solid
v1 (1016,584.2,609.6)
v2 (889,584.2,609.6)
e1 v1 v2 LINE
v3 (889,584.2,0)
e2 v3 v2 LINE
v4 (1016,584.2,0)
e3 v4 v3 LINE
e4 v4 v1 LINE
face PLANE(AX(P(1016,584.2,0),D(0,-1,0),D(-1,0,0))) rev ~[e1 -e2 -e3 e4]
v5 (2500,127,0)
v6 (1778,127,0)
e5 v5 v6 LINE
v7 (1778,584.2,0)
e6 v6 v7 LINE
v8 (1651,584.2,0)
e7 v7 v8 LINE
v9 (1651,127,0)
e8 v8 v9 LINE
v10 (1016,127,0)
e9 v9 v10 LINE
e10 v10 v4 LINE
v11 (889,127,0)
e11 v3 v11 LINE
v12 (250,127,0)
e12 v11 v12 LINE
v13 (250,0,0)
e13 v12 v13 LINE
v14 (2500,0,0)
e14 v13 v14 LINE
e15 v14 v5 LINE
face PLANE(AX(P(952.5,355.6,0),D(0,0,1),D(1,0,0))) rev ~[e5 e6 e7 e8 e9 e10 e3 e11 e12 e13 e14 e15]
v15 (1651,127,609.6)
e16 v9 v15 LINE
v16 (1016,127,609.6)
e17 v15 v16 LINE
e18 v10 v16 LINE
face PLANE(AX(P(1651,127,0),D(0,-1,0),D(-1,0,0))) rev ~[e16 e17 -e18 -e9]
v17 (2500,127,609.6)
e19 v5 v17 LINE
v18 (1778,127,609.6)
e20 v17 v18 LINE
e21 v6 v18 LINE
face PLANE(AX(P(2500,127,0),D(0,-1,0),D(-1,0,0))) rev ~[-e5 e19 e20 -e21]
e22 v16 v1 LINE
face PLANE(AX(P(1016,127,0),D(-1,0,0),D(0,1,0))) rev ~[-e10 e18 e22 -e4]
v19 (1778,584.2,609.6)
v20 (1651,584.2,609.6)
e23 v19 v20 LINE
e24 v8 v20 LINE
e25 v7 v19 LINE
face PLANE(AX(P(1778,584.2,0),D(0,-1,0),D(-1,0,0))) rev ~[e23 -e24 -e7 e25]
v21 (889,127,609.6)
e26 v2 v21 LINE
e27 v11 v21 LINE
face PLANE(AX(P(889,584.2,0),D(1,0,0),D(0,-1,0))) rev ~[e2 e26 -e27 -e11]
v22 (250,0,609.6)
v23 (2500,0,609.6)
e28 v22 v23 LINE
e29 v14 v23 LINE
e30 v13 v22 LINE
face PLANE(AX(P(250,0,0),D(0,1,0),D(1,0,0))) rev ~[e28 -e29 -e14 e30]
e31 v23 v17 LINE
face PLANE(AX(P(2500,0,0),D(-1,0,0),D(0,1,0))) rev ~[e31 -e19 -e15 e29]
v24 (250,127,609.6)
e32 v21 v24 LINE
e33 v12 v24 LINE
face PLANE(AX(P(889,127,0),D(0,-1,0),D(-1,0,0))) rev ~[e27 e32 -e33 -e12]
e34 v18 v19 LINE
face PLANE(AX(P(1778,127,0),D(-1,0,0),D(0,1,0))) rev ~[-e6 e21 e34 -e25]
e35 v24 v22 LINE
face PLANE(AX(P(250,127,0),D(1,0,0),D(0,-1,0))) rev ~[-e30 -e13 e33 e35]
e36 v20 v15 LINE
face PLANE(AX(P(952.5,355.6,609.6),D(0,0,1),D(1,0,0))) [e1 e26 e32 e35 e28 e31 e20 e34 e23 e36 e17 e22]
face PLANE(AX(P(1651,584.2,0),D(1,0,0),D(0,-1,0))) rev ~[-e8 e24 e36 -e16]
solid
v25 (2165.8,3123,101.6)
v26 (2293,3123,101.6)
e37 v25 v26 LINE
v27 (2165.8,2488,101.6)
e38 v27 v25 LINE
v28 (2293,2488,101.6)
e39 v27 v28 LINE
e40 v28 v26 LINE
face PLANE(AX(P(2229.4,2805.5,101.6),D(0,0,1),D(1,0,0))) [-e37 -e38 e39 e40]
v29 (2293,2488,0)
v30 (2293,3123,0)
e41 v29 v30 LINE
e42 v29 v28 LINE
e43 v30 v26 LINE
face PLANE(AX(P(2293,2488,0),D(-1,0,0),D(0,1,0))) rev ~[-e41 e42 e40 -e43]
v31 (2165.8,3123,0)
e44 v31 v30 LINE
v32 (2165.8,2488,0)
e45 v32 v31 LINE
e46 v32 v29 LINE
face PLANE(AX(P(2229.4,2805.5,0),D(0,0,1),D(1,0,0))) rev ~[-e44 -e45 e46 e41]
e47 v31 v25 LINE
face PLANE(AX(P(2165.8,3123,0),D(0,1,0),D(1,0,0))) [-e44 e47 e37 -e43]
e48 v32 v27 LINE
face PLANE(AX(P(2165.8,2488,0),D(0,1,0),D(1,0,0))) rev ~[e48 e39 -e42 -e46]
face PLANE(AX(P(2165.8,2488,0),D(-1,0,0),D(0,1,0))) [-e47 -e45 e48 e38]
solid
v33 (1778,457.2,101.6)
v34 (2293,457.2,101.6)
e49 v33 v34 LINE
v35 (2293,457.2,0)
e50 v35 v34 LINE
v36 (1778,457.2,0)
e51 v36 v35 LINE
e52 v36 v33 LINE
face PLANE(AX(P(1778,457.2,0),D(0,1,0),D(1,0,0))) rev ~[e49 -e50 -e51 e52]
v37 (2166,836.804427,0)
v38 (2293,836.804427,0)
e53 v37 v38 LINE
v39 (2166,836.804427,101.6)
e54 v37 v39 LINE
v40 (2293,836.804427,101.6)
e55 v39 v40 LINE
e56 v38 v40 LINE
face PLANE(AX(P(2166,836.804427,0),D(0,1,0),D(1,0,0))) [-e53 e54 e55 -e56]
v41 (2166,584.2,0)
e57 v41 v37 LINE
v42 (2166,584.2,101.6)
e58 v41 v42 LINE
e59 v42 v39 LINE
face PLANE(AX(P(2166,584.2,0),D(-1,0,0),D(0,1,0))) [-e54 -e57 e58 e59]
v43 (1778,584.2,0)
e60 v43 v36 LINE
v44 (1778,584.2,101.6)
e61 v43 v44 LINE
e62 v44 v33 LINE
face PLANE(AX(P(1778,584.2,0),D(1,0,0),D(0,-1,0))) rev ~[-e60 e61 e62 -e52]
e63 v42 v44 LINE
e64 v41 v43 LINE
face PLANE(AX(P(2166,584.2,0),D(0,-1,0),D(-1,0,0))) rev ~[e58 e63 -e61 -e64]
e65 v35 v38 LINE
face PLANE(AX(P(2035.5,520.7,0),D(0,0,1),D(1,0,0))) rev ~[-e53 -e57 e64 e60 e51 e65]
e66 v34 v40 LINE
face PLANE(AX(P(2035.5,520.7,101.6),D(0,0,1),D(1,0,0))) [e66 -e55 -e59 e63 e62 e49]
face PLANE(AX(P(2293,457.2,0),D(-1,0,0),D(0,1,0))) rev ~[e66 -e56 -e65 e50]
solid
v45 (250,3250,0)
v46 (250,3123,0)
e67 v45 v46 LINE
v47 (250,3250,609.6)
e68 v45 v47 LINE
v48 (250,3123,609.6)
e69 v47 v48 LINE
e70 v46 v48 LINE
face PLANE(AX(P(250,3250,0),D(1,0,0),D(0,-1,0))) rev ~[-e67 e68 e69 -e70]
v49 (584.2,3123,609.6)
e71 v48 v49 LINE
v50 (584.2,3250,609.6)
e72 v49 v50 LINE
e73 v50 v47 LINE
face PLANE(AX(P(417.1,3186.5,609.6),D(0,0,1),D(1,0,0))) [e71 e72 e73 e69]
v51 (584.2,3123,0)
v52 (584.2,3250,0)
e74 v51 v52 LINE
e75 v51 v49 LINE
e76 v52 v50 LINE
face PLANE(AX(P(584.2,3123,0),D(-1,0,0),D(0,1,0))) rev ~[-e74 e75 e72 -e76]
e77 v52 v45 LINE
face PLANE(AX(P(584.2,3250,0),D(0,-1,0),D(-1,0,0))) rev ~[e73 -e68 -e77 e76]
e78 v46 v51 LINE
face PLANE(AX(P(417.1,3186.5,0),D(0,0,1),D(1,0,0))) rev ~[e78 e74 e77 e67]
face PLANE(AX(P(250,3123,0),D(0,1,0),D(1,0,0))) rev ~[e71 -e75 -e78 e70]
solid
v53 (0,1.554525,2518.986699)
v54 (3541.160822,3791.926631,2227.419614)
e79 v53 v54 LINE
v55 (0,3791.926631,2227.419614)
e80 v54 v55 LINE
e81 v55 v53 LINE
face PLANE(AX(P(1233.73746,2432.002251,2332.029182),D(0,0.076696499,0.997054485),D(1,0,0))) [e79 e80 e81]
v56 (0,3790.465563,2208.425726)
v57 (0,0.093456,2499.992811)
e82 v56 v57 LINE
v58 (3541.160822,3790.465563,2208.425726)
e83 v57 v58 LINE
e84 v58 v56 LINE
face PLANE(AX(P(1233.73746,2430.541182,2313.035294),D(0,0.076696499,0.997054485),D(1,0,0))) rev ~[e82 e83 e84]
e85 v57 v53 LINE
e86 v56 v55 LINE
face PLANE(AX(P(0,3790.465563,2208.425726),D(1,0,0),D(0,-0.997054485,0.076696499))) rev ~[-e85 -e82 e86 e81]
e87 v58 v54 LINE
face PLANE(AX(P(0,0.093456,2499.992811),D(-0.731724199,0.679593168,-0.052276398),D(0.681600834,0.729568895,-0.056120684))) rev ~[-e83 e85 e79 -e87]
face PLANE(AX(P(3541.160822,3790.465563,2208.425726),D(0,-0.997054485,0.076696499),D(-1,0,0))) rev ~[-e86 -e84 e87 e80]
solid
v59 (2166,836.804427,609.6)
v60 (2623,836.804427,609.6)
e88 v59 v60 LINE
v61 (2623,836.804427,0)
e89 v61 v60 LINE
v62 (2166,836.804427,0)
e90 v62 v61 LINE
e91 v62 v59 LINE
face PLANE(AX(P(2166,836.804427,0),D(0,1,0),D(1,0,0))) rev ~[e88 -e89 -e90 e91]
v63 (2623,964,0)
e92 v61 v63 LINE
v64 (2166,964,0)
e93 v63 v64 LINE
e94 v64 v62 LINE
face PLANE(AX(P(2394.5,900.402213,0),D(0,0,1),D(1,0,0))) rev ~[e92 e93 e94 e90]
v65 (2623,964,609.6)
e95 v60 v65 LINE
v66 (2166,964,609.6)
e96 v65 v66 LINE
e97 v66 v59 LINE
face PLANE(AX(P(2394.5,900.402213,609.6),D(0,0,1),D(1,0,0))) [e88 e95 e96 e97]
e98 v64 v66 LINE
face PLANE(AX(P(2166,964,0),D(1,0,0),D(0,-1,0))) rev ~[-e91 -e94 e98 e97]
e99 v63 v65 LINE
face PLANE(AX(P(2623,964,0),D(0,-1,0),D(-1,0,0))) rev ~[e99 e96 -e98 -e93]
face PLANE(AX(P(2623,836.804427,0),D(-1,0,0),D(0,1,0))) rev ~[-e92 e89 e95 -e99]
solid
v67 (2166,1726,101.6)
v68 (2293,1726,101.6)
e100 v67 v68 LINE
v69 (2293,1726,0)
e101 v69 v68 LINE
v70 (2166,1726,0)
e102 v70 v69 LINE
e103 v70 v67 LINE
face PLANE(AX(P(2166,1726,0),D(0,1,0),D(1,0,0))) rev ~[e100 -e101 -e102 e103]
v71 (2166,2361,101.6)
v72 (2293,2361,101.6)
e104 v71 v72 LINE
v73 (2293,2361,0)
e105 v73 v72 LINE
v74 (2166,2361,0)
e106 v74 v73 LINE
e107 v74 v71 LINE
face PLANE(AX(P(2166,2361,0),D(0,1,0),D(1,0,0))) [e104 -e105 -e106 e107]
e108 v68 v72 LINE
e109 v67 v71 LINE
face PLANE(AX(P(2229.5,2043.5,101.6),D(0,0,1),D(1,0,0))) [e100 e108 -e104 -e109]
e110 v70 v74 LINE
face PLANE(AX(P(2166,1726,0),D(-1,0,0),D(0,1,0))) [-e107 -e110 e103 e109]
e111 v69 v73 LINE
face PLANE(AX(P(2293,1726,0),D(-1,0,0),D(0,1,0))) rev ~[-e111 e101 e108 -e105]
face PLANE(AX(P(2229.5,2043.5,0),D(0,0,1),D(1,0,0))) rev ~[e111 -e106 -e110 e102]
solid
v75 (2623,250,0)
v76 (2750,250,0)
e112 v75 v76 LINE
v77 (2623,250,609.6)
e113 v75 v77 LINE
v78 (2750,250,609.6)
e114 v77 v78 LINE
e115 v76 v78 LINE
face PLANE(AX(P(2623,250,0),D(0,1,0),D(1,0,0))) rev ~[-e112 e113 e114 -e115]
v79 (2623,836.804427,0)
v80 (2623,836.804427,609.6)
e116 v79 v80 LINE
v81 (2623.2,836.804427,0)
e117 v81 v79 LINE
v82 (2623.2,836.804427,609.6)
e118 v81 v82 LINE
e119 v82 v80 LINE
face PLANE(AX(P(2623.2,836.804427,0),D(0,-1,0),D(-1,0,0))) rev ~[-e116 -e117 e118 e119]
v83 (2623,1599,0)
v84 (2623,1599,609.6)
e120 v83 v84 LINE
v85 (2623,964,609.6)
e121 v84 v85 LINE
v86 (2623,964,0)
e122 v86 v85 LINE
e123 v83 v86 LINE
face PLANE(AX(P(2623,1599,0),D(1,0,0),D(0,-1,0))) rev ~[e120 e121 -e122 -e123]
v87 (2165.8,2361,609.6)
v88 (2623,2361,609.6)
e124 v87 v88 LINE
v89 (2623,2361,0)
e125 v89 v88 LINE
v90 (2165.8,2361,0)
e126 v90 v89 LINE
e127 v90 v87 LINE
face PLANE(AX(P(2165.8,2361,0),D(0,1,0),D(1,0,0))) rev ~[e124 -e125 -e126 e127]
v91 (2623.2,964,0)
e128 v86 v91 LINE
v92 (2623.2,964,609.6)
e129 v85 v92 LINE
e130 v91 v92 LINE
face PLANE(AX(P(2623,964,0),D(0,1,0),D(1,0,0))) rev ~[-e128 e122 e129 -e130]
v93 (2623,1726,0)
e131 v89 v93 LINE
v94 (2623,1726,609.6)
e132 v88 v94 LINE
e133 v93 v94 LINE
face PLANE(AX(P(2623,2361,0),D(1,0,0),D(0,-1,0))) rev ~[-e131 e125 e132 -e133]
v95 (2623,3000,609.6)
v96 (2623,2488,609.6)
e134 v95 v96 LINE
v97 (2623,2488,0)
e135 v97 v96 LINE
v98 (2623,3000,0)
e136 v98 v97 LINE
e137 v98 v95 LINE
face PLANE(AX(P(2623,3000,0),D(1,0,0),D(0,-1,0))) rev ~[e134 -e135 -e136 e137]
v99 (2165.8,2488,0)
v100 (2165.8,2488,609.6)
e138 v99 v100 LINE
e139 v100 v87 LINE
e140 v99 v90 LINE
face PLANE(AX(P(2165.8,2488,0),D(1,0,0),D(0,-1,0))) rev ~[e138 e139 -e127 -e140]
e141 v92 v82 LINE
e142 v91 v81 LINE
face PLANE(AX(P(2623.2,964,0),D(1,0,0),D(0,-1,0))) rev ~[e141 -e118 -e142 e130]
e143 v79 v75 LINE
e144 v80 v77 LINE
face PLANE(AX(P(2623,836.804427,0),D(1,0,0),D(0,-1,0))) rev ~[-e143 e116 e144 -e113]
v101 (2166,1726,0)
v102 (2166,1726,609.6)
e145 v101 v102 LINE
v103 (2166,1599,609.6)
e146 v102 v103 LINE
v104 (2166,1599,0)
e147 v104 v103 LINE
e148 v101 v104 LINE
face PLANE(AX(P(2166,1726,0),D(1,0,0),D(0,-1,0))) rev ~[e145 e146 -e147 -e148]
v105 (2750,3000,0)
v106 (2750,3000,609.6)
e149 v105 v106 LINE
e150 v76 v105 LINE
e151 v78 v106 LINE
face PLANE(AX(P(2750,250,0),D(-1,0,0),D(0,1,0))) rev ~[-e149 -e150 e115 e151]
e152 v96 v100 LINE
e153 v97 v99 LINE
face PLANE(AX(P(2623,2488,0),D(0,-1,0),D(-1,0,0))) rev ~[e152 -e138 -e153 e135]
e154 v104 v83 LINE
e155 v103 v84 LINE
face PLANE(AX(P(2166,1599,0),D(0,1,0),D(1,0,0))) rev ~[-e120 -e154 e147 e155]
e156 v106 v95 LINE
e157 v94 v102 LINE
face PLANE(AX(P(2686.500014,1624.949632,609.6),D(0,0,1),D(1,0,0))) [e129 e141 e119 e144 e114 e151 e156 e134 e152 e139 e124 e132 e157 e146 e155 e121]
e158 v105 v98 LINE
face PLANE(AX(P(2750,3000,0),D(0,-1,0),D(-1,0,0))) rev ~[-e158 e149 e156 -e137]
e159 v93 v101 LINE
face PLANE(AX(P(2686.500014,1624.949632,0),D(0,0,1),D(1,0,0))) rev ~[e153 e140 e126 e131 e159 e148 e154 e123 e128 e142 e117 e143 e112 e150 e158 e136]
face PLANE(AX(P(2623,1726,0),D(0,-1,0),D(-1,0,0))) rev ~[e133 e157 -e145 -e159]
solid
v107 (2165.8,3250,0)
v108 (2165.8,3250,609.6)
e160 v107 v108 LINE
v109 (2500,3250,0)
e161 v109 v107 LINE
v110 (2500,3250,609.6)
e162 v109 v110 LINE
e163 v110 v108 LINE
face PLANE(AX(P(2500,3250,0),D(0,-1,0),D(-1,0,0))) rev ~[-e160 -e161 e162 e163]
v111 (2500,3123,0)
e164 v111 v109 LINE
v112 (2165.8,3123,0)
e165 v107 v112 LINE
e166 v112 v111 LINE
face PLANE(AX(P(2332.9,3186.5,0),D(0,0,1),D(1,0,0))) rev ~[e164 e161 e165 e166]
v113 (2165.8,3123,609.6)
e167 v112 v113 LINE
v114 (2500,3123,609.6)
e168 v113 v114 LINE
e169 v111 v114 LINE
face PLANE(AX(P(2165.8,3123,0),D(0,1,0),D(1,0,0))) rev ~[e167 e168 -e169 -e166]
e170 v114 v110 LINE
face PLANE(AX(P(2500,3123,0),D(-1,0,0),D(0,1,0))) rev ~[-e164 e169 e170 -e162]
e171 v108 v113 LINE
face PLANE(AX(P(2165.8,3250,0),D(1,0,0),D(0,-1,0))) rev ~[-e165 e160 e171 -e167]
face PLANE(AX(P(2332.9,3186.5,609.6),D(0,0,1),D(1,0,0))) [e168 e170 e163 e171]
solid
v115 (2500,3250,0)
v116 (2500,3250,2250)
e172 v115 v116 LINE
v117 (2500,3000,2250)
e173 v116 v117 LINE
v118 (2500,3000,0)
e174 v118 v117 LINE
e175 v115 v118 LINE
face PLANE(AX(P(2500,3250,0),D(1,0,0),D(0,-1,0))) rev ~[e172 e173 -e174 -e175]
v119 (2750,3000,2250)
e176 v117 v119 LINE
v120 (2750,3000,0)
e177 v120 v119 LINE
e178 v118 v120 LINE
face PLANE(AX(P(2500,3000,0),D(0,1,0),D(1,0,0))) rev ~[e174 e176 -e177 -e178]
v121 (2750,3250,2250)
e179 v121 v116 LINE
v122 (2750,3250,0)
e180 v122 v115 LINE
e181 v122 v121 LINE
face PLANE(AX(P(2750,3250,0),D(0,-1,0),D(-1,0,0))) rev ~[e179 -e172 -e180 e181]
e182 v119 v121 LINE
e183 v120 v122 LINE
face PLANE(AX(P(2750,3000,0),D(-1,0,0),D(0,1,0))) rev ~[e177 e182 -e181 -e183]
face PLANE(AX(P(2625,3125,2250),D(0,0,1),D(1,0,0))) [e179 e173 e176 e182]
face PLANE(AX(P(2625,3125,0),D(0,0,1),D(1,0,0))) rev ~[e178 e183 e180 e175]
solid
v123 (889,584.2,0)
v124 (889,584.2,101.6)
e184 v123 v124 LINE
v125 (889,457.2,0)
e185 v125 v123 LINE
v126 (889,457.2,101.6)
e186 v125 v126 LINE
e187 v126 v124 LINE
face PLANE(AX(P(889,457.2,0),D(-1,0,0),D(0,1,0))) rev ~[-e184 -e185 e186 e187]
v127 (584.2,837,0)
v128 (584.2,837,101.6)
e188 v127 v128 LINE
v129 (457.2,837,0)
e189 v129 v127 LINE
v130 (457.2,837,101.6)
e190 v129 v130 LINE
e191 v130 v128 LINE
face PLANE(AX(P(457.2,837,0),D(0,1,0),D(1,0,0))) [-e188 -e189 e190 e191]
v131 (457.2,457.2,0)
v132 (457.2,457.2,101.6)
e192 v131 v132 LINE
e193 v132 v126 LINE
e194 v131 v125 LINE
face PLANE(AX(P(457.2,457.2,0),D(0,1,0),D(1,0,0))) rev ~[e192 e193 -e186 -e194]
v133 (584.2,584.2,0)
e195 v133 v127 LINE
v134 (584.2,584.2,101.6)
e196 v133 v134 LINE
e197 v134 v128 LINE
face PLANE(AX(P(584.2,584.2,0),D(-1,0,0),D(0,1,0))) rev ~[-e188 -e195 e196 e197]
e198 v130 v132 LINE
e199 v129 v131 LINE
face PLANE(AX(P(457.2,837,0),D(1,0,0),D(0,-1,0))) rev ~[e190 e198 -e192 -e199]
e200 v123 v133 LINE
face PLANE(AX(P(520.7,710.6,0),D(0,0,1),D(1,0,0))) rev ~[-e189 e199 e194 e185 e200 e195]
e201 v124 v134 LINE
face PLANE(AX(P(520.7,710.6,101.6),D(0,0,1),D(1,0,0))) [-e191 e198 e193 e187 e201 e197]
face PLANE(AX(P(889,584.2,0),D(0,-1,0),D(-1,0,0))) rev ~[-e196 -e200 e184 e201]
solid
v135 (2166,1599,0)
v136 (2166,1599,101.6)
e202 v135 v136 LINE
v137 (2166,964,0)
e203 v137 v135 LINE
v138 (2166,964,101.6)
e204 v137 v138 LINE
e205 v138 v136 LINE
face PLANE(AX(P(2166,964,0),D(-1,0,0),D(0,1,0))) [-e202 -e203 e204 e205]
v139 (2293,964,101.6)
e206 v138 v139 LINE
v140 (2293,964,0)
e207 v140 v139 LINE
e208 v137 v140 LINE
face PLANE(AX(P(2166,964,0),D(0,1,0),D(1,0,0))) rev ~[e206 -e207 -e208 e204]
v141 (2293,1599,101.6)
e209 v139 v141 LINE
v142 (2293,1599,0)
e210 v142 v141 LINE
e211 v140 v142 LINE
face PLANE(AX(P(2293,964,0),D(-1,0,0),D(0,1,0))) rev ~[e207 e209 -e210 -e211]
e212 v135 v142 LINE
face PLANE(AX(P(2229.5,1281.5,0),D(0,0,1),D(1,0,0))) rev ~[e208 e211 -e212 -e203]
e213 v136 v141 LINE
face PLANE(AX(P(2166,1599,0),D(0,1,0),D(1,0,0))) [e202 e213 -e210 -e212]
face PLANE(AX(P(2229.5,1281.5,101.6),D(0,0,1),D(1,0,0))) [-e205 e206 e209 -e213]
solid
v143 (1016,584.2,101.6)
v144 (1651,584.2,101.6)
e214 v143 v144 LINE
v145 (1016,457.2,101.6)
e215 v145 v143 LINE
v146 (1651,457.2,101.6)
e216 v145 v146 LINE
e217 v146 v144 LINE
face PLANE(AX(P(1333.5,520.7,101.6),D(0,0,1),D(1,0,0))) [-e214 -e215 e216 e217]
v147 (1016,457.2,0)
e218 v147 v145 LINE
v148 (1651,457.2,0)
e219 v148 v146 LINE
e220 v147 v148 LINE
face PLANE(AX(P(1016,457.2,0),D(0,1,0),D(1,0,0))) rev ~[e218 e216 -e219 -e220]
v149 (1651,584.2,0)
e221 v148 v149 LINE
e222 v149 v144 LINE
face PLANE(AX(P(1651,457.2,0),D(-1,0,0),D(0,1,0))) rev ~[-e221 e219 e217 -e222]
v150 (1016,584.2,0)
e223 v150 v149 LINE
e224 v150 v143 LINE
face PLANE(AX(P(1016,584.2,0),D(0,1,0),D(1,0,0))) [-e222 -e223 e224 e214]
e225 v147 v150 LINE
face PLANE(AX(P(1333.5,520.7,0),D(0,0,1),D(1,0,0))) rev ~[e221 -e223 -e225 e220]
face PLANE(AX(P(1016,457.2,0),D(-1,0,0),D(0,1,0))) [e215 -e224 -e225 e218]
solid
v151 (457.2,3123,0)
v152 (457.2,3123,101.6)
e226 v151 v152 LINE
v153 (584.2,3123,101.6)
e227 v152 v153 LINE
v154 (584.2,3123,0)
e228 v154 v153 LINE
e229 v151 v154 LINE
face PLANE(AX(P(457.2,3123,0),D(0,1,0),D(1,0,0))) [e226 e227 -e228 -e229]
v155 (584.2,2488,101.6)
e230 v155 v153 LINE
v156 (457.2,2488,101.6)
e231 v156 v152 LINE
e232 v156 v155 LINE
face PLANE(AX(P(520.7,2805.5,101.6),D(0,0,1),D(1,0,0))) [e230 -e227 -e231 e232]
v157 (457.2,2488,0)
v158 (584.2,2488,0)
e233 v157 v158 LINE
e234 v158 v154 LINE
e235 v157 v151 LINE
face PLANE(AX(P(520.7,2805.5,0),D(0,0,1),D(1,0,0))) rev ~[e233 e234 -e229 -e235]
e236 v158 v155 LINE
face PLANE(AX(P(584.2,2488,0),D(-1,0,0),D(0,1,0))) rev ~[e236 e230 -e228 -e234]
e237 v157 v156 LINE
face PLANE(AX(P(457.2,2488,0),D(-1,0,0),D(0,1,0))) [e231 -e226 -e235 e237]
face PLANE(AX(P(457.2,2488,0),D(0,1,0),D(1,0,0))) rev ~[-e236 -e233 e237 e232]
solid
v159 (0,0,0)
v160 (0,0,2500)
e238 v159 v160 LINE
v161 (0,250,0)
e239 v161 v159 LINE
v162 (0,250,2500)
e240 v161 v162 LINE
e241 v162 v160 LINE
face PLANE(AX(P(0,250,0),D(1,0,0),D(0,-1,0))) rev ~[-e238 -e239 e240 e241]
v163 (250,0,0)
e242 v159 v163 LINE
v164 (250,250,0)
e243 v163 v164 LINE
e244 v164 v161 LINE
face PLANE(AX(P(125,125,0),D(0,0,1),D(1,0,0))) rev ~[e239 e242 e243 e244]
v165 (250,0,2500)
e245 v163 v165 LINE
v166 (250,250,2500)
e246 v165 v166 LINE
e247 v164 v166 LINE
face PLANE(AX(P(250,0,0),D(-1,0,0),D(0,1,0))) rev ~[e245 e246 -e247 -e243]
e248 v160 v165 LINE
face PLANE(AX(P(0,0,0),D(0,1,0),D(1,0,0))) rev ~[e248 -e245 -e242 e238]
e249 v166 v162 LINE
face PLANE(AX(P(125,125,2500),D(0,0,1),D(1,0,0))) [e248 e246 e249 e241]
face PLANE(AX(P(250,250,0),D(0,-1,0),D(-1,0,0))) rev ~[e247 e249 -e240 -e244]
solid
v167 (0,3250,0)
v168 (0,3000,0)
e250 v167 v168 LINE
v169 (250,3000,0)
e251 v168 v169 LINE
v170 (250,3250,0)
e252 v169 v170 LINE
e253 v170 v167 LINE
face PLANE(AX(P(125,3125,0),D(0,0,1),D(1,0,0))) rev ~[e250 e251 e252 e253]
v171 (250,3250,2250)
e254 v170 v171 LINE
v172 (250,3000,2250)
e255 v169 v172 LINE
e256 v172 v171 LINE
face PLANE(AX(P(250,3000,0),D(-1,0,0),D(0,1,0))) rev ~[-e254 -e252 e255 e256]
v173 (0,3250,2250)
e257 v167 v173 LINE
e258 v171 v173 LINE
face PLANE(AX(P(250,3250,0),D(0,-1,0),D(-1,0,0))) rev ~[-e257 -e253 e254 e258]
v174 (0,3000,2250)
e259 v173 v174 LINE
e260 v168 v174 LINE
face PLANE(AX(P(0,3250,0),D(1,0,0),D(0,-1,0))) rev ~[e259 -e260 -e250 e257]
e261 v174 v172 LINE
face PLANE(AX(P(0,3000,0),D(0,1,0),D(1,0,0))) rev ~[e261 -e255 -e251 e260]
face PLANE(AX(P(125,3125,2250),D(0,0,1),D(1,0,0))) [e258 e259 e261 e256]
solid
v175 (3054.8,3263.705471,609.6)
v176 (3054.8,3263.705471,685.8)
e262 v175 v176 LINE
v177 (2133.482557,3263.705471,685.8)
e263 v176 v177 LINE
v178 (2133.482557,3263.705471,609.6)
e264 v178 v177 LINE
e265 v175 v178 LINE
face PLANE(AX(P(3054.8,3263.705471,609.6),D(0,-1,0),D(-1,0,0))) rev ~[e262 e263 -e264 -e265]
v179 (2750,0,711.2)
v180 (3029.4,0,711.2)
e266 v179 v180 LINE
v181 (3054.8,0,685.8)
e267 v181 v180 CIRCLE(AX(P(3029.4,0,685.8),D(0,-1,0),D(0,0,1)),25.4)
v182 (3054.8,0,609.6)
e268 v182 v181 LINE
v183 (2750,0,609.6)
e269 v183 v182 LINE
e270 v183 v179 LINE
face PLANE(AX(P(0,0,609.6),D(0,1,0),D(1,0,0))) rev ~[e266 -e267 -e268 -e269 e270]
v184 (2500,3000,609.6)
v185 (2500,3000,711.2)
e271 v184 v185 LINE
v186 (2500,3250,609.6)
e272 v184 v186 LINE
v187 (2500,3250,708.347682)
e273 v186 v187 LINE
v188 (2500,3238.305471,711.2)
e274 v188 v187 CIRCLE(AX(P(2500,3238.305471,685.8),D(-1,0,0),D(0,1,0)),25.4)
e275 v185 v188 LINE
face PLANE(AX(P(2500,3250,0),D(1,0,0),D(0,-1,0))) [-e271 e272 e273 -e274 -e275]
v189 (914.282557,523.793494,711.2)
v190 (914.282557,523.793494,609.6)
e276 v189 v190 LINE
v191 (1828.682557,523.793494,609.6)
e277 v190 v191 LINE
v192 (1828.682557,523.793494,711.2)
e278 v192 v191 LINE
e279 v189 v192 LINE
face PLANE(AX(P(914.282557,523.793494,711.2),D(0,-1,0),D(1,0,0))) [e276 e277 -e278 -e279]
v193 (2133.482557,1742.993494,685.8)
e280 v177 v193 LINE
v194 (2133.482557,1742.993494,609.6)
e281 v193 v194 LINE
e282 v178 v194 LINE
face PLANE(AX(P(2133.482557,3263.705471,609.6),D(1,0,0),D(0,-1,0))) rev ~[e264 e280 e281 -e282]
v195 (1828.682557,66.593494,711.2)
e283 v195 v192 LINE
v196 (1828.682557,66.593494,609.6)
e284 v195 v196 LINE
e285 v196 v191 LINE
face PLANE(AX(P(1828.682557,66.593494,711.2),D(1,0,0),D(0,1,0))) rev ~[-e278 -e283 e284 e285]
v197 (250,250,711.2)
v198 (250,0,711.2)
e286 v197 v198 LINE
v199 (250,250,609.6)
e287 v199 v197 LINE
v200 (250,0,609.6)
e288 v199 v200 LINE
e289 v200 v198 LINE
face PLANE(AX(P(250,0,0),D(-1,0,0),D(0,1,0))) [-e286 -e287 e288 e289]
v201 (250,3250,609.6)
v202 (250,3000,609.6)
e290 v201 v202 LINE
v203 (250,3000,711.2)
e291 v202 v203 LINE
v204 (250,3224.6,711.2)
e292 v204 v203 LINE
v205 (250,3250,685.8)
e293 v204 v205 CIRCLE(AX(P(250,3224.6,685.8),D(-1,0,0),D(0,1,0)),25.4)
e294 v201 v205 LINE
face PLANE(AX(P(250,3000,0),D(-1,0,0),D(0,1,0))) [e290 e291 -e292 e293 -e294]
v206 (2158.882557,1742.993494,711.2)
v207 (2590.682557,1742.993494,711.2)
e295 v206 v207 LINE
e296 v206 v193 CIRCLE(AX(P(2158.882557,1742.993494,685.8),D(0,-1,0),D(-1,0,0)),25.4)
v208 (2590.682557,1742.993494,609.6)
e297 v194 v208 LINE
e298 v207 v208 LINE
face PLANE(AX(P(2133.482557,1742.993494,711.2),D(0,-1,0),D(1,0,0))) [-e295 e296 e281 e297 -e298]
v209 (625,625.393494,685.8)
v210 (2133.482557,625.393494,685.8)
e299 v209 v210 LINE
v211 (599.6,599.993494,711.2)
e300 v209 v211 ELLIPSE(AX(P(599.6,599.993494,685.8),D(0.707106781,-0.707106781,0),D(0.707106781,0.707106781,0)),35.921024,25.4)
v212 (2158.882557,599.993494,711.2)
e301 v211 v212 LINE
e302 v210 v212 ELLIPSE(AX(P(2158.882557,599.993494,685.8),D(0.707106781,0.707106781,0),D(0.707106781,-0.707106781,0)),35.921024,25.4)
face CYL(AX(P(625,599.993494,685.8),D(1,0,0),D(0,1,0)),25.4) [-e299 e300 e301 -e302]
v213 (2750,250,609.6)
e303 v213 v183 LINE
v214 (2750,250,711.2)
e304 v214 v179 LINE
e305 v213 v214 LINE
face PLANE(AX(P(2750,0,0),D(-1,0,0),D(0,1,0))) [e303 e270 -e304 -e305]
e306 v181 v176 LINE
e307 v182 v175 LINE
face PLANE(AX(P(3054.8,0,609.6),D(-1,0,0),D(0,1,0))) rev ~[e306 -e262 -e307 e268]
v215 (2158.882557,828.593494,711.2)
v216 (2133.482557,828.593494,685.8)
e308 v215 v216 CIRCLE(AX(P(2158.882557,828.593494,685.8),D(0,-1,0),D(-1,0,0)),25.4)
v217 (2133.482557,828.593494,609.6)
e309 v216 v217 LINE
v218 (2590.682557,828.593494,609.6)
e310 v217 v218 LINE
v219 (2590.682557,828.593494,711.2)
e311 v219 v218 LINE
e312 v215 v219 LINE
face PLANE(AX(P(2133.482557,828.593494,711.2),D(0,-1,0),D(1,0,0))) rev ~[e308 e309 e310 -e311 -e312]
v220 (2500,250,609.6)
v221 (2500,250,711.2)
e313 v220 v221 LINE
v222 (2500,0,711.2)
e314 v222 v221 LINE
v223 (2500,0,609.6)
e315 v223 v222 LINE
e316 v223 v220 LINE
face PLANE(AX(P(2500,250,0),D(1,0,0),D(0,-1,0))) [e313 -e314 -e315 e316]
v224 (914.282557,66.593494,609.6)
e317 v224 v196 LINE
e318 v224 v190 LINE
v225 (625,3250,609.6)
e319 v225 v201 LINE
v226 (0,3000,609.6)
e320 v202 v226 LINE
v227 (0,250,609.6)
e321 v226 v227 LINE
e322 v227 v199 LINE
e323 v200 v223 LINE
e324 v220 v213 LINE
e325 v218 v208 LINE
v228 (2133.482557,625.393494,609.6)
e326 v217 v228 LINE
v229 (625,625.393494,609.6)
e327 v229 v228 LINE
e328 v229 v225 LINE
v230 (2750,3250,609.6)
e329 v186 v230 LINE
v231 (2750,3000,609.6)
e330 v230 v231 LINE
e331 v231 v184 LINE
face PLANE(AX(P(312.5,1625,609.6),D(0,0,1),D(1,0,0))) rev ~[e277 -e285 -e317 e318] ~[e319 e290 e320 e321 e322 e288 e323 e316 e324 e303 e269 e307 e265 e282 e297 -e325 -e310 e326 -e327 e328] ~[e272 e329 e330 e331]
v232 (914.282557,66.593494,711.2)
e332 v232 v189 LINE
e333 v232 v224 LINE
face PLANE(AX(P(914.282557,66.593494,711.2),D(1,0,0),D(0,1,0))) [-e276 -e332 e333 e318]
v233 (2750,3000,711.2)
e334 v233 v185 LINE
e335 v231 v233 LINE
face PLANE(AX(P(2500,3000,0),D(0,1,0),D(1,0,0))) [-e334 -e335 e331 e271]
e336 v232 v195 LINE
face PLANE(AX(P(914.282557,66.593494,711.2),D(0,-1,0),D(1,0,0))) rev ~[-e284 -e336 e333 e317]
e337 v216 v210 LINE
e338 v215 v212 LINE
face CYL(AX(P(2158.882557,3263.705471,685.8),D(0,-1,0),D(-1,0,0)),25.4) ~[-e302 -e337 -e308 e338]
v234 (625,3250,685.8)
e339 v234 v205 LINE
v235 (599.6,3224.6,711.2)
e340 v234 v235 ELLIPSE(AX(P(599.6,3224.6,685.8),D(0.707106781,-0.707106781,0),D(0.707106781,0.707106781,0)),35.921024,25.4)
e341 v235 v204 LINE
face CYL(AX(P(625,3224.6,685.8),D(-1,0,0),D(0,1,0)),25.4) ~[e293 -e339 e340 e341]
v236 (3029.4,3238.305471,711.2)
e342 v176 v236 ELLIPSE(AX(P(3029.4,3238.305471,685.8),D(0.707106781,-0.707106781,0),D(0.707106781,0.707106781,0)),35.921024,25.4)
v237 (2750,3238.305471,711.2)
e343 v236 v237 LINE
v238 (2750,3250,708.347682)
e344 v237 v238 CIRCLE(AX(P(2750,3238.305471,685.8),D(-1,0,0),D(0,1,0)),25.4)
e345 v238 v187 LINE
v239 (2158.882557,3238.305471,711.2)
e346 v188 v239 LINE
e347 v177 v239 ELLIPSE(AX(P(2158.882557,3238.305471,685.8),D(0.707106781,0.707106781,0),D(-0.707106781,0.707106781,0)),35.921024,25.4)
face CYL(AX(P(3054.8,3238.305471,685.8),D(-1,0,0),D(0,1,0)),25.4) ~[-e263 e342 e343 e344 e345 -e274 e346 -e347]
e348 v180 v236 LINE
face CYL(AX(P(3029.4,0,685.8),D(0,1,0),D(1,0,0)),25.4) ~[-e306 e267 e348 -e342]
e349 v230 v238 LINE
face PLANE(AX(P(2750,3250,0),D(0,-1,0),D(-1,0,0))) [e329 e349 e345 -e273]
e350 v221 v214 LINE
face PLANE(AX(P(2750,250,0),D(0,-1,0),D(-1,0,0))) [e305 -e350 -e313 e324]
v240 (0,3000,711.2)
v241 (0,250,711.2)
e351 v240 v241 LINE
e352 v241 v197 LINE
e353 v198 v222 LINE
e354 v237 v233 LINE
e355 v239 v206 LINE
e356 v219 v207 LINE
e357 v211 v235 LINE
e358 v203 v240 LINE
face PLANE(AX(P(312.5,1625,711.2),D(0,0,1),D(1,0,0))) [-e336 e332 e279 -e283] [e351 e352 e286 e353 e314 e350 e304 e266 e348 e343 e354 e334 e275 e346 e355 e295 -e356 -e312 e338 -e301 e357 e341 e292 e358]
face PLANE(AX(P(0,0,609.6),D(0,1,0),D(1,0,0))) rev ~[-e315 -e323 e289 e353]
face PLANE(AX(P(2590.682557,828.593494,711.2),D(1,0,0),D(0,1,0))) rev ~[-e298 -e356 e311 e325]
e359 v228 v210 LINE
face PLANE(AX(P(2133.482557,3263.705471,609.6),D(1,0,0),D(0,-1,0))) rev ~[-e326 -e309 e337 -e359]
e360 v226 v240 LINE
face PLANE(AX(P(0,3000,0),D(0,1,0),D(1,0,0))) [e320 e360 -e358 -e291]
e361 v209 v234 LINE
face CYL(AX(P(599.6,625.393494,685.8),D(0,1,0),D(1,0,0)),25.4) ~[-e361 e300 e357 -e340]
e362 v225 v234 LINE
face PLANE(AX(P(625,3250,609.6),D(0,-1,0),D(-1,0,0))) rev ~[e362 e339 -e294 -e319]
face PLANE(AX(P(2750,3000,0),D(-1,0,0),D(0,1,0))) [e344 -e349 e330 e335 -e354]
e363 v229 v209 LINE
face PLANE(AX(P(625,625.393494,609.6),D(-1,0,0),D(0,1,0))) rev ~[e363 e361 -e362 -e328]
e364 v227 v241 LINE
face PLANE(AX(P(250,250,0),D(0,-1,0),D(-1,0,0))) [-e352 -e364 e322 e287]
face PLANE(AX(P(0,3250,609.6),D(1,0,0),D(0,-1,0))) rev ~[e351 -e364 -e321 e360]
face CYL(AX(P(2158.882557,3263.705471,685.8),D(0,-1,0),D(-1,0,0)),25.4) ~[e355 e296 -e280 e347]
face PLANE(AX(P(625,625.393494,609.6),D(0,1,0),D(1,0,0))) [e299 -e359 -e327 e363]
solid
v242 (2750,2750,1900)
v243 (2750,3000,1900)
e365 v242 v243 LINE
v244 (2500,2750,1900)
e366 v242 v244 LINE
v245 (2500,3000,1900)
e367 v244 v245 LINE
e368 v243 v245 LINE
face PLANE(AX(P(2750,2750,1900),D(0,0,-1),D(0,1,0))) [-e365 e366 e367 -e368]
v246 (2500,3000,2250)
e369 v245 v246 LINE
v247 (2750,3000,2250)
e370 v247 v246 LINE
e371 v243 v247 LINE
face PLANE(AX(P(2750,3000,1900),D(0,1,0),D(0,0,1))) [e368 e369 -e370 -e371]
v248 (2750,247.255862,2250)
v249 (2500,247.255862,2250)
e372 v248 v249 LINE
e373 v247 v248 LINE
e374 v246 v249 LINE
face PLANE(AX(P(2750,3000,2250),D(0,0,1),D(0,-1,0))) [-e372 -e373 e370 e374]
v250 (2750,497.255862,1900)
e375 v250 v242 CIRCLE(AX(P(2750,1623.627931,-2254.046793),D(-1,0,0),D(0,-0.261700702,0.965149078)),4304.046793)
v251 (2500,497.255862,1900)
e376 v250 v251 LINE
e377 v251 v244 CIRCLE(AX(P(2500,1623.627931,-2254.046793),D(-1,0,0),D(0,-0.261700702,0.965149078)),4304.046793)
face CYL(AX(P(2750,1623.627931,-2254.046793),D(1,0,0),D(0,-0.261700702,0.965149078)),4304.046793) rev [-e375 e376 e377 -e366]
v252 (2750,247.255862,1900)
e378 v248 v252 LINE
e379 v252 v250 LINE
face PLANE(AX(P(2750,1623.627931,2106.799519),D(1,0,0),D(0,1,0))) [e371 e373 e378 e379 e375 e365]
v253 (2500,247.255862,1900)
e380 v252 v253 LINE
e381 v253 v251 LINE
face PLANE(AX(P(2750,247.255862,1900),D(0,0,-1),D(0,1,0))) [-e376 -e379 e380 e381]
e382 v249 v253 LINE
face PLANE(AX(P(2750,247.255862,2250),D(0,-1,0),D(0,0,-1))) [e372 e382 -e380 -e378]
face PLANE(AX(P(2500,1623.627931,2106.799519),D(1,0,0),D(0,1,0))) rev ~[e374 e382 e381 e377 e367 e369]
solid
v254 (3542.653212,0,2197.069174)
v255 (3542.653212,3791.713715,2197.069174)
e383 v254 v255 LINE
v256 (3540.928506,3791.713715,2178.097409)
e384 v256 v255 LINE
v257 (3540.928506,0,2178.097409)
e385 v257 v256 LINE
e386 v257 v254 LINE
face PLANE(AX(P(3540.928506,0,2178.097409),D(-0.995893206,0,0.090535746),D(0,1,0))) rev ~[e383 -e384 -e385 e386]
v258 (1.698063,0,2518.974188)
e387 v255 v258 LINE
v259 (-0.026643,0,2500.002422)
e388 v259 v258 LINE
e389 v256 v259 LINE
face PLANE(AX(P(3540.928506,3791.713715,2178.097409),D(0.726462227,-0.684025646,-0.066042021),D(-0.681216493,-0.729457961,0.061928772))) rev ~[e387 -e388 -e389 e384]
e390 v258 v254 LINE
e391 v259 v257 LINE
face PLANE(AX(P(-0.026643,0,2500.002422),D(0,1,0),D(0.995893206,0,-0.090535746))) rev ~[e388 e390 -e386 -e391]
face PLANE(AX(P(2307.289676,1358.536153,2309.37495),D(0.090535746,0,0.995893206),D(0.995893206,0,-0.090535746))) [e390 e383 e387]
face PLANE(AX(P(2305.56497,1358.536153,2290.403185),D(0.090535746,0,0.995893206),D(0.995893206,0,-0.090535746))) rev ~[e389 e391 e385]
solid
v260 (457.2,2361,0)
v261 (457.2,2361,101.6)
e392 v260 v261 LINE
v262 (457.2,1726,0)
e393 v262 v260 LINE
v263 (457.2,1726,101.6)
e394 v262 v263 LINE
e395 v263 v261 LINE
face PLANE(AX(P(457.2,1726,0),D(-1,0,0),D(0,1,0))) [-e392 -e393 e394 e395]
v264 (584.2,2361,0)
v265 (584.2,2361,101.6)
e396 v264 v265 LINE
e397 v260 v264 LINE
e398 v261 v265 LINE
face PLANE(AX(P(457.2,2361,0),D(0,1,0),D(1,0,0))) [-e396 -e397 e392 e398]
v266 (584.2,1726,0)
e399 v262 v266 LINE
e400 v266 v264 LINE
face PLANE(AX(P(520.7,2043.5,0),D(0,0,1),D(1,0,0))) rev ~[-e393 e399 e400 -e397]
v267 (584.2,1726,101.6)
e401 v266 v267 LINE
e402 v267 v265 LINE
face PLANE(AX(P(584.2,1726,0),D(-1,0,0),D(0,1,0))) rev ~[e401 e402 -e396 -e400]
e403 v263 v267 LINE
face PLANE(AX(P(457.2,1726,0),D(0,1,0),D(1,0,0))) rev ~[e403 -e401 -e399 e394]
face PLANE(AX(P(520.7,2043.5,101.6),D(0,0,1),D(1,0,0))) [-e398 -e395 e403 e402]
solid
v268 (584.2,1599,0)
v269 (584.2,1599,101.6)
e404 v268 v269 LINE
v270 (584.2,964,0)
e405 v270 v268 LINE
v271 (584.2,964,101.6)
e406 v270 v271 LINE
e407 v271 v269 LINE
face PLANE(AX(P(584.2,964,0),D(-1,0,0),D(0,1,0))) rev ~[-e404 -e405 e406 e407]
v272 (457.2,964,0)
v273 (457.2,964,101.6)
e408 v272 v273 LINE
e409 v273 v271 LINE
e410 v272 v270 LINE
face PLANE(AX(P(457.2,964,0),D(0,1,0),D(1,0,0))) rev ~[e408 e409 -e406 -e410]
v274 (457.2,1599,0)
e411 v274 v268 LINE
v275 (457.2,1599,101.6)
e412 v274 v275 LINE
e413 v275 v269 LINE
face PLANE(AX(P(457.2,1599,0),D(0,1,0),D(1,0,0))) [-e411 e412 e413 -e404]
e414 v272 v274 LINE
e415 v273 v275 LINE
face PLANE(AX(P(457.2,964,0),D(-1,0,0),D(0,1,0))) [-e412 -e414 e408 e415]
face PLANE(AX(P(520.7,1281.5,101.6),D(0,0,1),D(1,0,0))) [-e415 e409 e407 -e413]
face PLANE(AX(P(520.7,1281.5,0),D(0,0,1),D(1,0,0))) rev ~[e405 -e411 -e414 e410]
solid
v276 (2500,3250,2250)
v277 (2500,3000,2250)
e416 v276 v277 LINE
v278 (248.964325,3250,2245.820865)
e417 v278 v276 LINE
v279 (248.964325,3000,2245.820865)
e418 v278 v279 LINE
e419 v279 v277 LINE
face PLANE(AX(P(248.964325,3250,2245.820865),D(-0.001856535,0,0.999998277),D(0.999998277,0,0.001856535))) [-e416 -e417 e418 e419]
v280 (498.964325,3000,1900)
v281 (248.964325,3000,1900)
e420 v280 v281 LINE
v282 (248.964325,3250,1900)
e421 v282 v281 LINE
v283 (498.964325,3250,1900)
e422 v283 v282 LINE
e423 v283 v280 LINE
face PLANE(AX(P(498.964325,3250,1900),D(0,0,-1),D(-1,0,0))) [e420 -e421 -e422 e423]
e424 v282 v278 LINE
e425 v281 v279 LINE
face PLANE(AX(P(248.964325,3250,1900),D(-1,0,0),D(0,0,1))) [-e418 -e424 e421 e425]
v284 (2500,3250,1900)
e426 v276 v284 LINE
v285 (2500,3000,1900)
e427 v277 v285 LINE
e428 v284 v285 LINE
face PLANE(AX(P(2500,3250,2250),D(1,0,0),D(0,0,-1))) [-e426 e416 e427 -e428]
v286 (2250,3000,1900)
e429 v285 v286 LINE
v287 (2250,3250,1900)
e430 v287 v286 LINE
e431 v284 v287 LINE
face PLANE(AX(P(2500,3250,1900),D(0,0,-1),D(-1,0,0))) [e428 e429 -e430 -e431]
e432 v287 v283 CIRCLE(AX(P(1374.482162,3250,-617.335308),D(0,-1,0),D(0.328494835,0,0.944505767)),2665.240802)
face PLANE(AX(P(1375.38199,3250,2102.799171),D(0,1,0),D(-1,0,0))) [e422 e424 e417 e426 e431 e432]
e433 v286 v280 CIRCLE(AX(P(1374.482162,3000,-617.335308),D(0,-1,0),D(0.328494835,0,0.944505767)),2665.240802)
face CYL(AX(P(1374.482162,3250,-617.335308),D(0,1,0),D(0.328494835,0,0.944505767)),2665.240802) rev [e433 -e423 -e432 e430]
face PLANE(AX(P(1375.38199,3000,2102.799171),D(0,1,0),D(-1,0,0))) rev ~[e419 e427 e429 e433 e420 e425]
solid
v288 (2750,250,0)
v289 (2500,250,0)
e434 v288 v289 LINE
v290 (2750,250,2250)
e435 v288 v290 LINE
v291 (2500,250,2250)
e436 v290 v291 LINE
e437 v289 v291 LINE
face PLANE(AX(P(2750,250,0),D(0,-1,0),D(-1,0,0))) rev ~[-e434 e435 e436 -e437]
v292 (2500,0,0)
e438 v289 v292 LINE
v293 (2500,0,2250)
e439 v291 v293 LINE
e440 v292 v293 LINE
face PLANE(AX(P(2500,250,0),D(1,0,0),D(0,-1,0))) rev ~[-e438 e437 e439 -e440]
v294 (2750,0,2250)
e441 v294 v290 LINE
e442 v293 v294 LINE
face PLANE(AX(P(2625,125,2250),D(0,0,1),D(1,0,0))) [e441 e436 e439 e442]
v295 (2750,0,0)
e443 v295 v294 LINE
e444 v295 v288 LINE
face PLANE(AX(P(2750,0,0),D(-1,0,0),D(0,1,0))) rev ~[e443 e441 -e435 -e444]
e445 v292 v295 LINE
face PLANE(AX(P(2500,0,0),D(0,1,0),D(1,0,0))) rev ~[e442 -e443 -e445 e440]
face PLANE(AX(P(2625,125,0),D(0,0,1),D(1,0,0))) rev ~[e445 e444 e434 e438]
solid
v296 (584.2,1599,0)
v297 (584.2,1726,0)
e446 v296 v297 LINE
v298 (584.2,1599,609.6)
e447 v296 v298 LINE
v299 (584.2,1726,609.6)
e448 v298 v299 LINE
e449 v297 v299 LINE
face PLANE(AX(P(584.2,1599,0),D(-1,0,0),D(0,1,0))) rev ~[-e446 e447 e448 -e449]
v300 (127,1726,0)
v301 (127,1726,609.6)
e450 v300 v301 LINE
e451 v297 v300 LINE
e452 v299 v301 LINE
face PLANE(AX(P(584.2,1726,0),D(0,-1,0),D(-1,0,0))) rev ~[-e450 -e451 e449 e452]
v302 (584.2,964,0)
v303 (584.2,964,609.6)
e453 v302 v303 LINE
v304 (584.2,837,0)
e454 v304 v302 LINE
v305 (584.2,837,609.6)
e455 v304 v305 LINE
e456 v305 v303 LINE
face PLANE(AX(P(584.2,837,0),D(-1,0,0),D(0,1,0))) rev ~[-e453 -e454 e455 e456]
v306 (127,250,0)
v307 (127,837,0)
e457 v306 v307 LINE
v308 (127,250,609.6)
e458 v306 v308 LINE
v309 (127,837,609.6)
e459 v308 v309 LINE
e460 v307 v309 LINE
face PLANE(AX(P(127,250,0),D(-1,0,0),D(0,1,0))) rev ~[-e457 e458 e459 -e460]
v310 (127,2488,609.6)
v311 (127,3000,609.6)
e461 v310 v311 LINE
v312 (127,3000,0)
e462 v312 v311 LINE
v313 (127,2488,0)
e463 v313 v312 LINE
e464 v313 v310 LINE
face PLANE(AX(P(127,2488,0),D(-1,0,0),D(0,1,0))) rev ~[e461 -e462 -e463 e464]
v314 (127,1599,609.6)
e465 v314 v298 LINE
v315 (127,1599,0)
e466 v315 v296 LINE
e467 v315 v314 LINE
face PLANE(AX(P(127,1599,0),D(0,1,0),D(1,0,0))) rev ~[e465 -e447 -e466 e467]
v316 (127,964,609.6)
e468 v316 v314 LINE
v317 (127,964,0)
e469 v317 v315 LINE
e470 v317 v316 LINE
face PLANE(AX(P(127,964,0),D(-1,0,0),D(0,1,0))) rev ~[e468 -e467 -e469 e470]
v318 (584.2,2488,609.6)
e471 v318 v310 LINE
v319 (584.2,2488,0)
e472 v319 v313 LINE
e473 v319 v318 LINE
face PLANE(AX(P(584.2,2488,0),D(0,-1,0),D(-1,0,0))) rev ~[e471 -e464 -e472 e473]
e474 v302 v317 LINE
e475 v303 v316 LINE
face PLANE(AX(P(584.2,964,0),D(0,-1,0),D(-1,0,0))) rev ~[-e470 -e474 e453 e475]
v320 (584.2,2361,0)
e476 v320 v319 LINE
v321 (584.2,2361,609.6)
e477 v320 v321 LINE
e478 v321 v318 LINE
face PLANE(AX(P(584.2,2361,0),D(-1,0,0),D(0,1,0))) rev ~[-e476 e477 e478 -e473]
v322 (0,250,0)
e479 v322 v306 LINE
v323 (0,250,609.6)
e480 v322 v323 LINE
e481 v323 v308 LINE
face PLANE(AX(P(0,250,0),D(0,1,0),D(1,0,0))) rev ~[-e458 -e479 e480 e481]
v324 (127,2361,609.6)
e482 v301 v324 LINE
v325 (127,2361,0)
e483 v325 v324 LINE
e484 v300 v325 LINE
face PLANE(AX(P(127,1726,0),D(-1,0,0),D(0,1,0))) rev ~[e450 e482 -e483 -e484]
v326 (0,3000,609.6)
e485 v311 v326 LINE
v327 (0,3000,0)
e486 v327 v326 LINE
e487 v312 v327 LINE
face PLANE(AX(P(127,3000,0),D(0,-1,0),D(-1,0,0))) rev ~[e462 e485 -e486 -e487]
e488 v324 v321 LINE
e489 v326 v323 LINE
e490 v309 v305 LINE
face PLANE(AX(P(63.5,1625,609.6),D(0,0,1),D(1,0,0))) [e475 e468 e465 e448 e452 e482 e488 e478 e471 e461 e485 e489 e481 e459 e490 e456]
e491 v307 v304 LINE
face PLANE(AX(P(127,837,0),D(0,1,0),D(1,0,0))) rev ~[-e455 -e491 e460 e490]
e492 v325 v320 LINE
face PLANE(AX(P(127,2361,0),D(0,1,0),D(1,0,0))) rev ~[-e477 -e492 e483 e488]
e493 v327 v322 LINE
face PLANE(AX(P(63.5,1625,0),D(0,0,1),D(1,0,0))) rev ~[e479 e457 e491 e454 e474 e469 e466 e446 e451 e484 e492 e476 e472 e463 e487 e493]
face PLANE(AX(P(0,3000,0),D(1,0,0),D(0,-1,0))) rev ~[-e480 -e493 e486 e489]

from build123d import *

# Parameters (mm, degrees)
F1_DEPTH  = 2500
F2_DEPTH  = 2250
F3_DEPTH  = 2250
F4_DEPTH  = 2250
F5_DEPTH  = 609.6
F0_W      = 127
F0_H      = 635
F6_DEPTH  = 101.6
F0_H_2    = 252.8
F0_W_2    = 635
F0_H_3    = 127
F0_H_4    = 252.6044269804
F0_W_3    = 127.2
F7_W      = 1508.4825573363
F7_H      = 625.393493561
F8_DEPTH  = 101.6
F9_R      = 25.4
F13_DEPTH = 250
F15_DEPTH = 250
F17_DEPTH = 19.05
F19_DEPTH = 19.05
F20_W     = 457.2
F20_H     = 914.4
F21_DEPTH = 101.6
F22_W     = 914.4
F22_H     = 457.2
F23_DEPTH = 101.6


with BuildPart() as f1:
    # F0 (on Top) → F1 (new body)
    with BuildSketch(Plane.XY):
        Polygon((0, 250), (0, 0), (250, 0), (250, 127), (250, 250), (127, 250), align=None)
    extrude(amount=F1_DEPTH)


with BuildPart() as f2:
    # F0 (on Top) → F2 (new body)
    with BuildSketch(Plane.XY):
        Polygon((0, 3250), (0, 3000), (127, 3000), (250, 3000), (250, 3123), (250, 3250), (127, 3250), align=None)
    extrude(amount=F2_DEPTH)


with BuildPart() as f3:
    # F0 (on Top) → F3 (new body)
    with BuildSketch(Plane.XY):
        Polygon((2500, 127), (2500, 0), (2750, 0), (2750, 127), (2750, 250), (2623, 250), (2500, 250), align=None)
    extrude(amount=F3_DEPTH)


with BuildPart() as f4:
    # F0 (on Top) → F4 (new body)
    with BuildSketch(Plane.XY):
        Polygon((2623, 3000), (2750, 3000), (2750, 3250), (2623, 3250), (2500, 3250), (2500, 3123), (2500, 3000), align=None)
    extrude(amount=F4_DEPTH)


with BuildPart() as f5:
    # F0 (on Top) → F5 (new body)
    with BuildSketch(Plane.XY):
        Polygon((584.2, 3250), (250, 3250), (250, 3123), (457.2, 3123), (584.2, 3123), align=None)
    extrude(amount=F5_DEPTH)


with BuildPart() as f5b:
    # F0 (on Top) → F5, piece 2 (new body)
    with BuildSketch(Plane.XY):
        Polygon((0, 3000), (0, 250), (127, 250), (127, 837), (127, 964), (127, 1599), (127, 1726), (127, 2361), (127, 2488), (127, 3000), align=None)
        Polygon((457.2, 2488), (127, 2488), (127, 2361), (457.2, 2361), (584.2, 2361), (584.2, 2488), align=None)
        Polygon((127, 1726), (127, 1599), (457.2, 1599), (584.2, 1599), (584.2, 1726), (457.2, 1726), align=None)
        Polygon((127, 964), (127, 837), (457.2, 837), (584.2, 837), (584.2, 964), (457.2, 964), align=None)
    extrude(amount=F5_DEPTH)


with BuildPart() as f5c:
    # F0 (on Top) → F5, piece 3 (new body)
    with BuildSketch(Plane.XY):
        Polygon((889, 457.2), (889, 127), (1016, 127), (1016, 457.2), (1016, 584.2), (889, 584.2), align=None)
        Polygon((1651, 127), (1778, 127), (1778, 457.2), (1778, 584.2), (1651, 584.2), (1651, 457.2), align=None)
        Polygon((250, 127), (250, 0), (2500, 0), (2500, 127), (1778, 127), (1651, 127), (1016, 127), (889, 127), align=None)
    extrude(amount=F5_DEPTH)


with BuildPart() as f5d:
    # F0 (on Top) → F5, piece 4 (new body)
    with BuildSketch(Plane.XY):
        Polygon((2623, 836.8044269804), (2623, 250), (2750, 250), (2750, 3000), (2623, 3000), (2623, 2488), (2623, 2361), (2623, 1726), (2623, 1599), (2623, 964), (2623.2, 964), (2623.2, 836.8044269804), align=None)
        Polygon((2293, 1599), (2623, 1599), (2623, 1726), (2293, 1726), (2166, 1726), (2166, 1599), align=None)
        Polygon((2623, 2361), (2623, 2488), (2293, 2488), (2165.8, 2488), (2165.8, 2361), (2166, 2361), (2293, 2361), align=None)
    extrude(amount=F5_DEPTH)


with BuildPart() as f5e:
    # F0 (on Top) → F5, piece 5 (new body)
    with BuildSketch(Plane.XY):
        Polygon((2293, 836.8044269804), (2623, 836.8044269804), (2623, 964), (2293, 964), (2166, 964), (2166, 836.8044269804), align=None)
    extrude(amount=F5_DEPTH)


with BuildPart() as f5f:
    # F0 (on Top) → F5, piece 6 (new body)
    with BuildSketch(Plane.XY):
        Polygon((2293, 3123), (2500, 3123), (2500, 3250), (2165.8, 3250), (2165.8, 3123), align=None)
    extrude(amount=F5_DEPTH)


with BuildPart() as f6:
    # F0 (on Top) → F6 (new body)
    with BuildSketch(Plane.XY):
        with Locations((520.7, 2805.5)):
            Rectangle(F0_W, F0_H)
    extrude(amount=F6_DEPTH)


with BuildPart() as f6b:
    # F0 (on Top) → F6, piece 2 (new body)
    with BuildSketch(Plane.XY):
        with Locations((520.7, 2043.5)):
            Rectangle(F0_W, F0_H)
    extrude(amount=F6_DEPTH)


with BuildPart() as f6c:
    # F0 (on Top) → F6, piece 3 (new body)
    with BuildSketch(Plane.XY):
        with Locations((520.7, 1281.5)):
            Rectangle(F0_W, F0_H)
    extrude(amount=F6_DEPTH)


with BuildPart() as f6d:
    # F0 (on Top) → F6, piece 4 (new body)
    with BuildSketch(Plane.XY):
        with Locations((520.7, 710.6)):
            Rectangle(F0_W, F0_H_2)
        Polygon((457.2, 457.2), (889, 457.2), (889, 584.2), (584.2, 584.2), (457.2, 584.2), align=None)
    extrude(amount=F6_DEPTH)


with BuildPart() as f6e:
    # F0 (on Top) → F6, piece 5 (new body)
    with BuildSketch(Plane.XY):
        with Locations((1333.5, 520.7)):
            Rectangle(F0_W_2, F0_H_3)
    extrude(amount=F6_DEPTH)


with BuildPart() as f6f:
    # F0 (on Top) → F6, piece 6 (new body)
    with BuildSketch(Plane.XY):
        Polygon((1778, 584.2), (1778, 457.2), (2293, 457.2), (2293, 584.2), (2166, 584.2), align=None)
        with Locations((2229.5, 710.5022134902)):
            Rectangle(F0_W, F0_H_4)
    extrude(amount=F6_DEPTH)


with BuildPart() as f6g:
    # F0 (on Top) → F6, piece 7 (new body)
    with BuildSketch(Plane.XY):
        with Locations((2229.5, 1281.5)):
            Rectangle(F0_W, F0_H)
    extrude(amount=F6_DEPTH)


with BuildPart() as f6h:
    # F0 (on Top) → F6, piece 8 (new body)
    with BuildSketch(Plane.XY):
        with Locations((2229.5, 2043.5)):
            Rectangle(F0_W, F0_H)
    extrude(amount=F6_DEPTH)


with BuildPart() as f6i:
    # F0 (on Top) → F6, piece 9 (new body)
    with BuildSketch(Plane.XY):
        with Locations((2229.4, 2805.5)):
            Rectangle(F0_W_3, F0_H)
    extrude(amount=F6_DEPTH)


with BuildPart() as f8:
    # F7 (on face) → F8 (new body)
    with BuildSketch(Plane.XY.offset(609.6)):
        Polygon((0, 3250), (0, 0), (625, 0), (625, 625.393493561), (625, 3250), align=None)
        with Locations((1379.2412786681, 312.6967467805)):
            Rectangle(F7_W, F7_H)
        Polygon((2133.4825573363, 625.393493561), (2133.4825573363, 0), (3054.8, 0), (3054.8, 3263.7054706946), (2133.4825573363, 3263.7054706946), align=None)
    extrude(amount=F8_DEPTH)

    # F9
    f9_edges = [f8.edges().sort_by_distance(p)[0] for p in [
        (3054.8, 1631.852735, 711.2),
        (2594.141279, 3263.705471, 711.2),
        (625, 1937.696747, 711.2),
        (312.5, 3250, 711.2),
        (1379.241279, 625.393494, 711.2),
        (2133.482557, 1944.549482, 711.2),
    ]]
    fillet(f9_edges, radius=F9_R)

    # F20 (on face) → F21 (cut, through all)
    with BuildSketch(Plane.XY.offset(711.2)):
        with Locations((2362.0825573363, 1285.793493561)):
            Rectangle(F20_W, F20_H)
    extrude(amount=-F21_DEPTH, mode=Mode.SUBTRACT)

    # F22 (on face) → F23 (cut, through all)
    with BuildSketch(Plane.XY.offset(711.2)):
        with Locations((1371.4825573363, 295.193493561)):
            Rectangle(F22_W, F22_H)
    extrude(amount=-F23_DEPTH, mode=Mode.SUBTRACT)

    # F24: cut F2, F4, F3, F1
    add(f2.part, mode=Mode.SUBTRACT)
    add(f4.part, mode=Mode.SUBTRACT)
    add(f3.part, mode=Mode.SUBTRACT)
    add(f1.part, mode=Mode.SUBTRACT)


with BuildPart() as f13:
    # F12 (on face) → F13 (new body)
    with BuildSketch(Plane.YZ.offset(2750)):
        with BuildLine():
            Line((247.2558619949, 2250), (247.2558619949, 1900))
            Line((247.2558619949, 1900), (497.2558619949, 1900))
            ThreePointArc((497.2558619949, 1900), (1623.6279309974, 2050), (2750, 1900))
            Line((2750, 1900), (3000, 1900))
            Line((3000, 1900), (3000, 2250))
            Line((3000, 2250), (247.2558619949, 2250))
        make_face()
    extrude(amount=-F13_DEPTH)


with BuildPart() as f15:
    # F14 (on face) → F15 (new body)
    with BuildSketch(Plane(origin=(0, 3250, 0), x_dir=(-1, 0, 0), z_dir=(0, 1, 0))):
        with BuildLine():
            Line((-248.9643245936, 2245.820865417), (-2500, 2250))
            Line((-2500, 2250), (-2500, 1900))
            Line((-2500, 1900), (-2250, 1900))
            ThreePointArc((-2250, 1900), (-1374.4821622968, 2047.9054948492), (-498.9643245936, 1900))
            Line((-498.9643245936, 1900), (-248.9643245936, 1900))
            Line((-248.9643245936, 1900), (-248.9643245936, 2245.820865417))
        make_face()
    extrude(amount=-F15_DEPTH)


with BuildPart() as f17:
    # F16 (on 3pt) → F17 (new body)
    with BuildSketch(Plane(origin=(0, 191.1764705882, 2485.2941176471), x_dir=(1, 0, 0), z_dir=(0, 0.0766964989, 0.9970544855))):
        Polygon((0, 3609.922170639), (0, -191.6475147009), (3541.1608219147, 3609.922170639), align=None)
    extrude(amount=F17_DEPTH)


with BuildPart() as f19:
    # F18 (on 3pt) → F19 (new body)
    with BuildSketch(Plane(origin=(225.4098360656, 0, 2479.5081967213), x_dir=(0.9958932065, 0, -0.090535746), z_dir=(0.090535746, 0, 0.9958932065))):
        Polygon((3329.1909694672, 3791.7137145996), (-226.3661175966, 0), (3329.1909694672, 0), align=None)
    extrude(amount=F19_DEPTH)


solid = Compound([f1.part, f2.part, f3.part, f4.part, f5.part, f5b.part, f5c.part, f5d.part, f5e.part, f5f.part, f6.part, f6b.part, f6c.part, f6d.part, f6e.part, f6f.part, f6g.part, f6h.part, f6i.part, f8.part, f13.part, f15.part, f17.part, f19.part])
